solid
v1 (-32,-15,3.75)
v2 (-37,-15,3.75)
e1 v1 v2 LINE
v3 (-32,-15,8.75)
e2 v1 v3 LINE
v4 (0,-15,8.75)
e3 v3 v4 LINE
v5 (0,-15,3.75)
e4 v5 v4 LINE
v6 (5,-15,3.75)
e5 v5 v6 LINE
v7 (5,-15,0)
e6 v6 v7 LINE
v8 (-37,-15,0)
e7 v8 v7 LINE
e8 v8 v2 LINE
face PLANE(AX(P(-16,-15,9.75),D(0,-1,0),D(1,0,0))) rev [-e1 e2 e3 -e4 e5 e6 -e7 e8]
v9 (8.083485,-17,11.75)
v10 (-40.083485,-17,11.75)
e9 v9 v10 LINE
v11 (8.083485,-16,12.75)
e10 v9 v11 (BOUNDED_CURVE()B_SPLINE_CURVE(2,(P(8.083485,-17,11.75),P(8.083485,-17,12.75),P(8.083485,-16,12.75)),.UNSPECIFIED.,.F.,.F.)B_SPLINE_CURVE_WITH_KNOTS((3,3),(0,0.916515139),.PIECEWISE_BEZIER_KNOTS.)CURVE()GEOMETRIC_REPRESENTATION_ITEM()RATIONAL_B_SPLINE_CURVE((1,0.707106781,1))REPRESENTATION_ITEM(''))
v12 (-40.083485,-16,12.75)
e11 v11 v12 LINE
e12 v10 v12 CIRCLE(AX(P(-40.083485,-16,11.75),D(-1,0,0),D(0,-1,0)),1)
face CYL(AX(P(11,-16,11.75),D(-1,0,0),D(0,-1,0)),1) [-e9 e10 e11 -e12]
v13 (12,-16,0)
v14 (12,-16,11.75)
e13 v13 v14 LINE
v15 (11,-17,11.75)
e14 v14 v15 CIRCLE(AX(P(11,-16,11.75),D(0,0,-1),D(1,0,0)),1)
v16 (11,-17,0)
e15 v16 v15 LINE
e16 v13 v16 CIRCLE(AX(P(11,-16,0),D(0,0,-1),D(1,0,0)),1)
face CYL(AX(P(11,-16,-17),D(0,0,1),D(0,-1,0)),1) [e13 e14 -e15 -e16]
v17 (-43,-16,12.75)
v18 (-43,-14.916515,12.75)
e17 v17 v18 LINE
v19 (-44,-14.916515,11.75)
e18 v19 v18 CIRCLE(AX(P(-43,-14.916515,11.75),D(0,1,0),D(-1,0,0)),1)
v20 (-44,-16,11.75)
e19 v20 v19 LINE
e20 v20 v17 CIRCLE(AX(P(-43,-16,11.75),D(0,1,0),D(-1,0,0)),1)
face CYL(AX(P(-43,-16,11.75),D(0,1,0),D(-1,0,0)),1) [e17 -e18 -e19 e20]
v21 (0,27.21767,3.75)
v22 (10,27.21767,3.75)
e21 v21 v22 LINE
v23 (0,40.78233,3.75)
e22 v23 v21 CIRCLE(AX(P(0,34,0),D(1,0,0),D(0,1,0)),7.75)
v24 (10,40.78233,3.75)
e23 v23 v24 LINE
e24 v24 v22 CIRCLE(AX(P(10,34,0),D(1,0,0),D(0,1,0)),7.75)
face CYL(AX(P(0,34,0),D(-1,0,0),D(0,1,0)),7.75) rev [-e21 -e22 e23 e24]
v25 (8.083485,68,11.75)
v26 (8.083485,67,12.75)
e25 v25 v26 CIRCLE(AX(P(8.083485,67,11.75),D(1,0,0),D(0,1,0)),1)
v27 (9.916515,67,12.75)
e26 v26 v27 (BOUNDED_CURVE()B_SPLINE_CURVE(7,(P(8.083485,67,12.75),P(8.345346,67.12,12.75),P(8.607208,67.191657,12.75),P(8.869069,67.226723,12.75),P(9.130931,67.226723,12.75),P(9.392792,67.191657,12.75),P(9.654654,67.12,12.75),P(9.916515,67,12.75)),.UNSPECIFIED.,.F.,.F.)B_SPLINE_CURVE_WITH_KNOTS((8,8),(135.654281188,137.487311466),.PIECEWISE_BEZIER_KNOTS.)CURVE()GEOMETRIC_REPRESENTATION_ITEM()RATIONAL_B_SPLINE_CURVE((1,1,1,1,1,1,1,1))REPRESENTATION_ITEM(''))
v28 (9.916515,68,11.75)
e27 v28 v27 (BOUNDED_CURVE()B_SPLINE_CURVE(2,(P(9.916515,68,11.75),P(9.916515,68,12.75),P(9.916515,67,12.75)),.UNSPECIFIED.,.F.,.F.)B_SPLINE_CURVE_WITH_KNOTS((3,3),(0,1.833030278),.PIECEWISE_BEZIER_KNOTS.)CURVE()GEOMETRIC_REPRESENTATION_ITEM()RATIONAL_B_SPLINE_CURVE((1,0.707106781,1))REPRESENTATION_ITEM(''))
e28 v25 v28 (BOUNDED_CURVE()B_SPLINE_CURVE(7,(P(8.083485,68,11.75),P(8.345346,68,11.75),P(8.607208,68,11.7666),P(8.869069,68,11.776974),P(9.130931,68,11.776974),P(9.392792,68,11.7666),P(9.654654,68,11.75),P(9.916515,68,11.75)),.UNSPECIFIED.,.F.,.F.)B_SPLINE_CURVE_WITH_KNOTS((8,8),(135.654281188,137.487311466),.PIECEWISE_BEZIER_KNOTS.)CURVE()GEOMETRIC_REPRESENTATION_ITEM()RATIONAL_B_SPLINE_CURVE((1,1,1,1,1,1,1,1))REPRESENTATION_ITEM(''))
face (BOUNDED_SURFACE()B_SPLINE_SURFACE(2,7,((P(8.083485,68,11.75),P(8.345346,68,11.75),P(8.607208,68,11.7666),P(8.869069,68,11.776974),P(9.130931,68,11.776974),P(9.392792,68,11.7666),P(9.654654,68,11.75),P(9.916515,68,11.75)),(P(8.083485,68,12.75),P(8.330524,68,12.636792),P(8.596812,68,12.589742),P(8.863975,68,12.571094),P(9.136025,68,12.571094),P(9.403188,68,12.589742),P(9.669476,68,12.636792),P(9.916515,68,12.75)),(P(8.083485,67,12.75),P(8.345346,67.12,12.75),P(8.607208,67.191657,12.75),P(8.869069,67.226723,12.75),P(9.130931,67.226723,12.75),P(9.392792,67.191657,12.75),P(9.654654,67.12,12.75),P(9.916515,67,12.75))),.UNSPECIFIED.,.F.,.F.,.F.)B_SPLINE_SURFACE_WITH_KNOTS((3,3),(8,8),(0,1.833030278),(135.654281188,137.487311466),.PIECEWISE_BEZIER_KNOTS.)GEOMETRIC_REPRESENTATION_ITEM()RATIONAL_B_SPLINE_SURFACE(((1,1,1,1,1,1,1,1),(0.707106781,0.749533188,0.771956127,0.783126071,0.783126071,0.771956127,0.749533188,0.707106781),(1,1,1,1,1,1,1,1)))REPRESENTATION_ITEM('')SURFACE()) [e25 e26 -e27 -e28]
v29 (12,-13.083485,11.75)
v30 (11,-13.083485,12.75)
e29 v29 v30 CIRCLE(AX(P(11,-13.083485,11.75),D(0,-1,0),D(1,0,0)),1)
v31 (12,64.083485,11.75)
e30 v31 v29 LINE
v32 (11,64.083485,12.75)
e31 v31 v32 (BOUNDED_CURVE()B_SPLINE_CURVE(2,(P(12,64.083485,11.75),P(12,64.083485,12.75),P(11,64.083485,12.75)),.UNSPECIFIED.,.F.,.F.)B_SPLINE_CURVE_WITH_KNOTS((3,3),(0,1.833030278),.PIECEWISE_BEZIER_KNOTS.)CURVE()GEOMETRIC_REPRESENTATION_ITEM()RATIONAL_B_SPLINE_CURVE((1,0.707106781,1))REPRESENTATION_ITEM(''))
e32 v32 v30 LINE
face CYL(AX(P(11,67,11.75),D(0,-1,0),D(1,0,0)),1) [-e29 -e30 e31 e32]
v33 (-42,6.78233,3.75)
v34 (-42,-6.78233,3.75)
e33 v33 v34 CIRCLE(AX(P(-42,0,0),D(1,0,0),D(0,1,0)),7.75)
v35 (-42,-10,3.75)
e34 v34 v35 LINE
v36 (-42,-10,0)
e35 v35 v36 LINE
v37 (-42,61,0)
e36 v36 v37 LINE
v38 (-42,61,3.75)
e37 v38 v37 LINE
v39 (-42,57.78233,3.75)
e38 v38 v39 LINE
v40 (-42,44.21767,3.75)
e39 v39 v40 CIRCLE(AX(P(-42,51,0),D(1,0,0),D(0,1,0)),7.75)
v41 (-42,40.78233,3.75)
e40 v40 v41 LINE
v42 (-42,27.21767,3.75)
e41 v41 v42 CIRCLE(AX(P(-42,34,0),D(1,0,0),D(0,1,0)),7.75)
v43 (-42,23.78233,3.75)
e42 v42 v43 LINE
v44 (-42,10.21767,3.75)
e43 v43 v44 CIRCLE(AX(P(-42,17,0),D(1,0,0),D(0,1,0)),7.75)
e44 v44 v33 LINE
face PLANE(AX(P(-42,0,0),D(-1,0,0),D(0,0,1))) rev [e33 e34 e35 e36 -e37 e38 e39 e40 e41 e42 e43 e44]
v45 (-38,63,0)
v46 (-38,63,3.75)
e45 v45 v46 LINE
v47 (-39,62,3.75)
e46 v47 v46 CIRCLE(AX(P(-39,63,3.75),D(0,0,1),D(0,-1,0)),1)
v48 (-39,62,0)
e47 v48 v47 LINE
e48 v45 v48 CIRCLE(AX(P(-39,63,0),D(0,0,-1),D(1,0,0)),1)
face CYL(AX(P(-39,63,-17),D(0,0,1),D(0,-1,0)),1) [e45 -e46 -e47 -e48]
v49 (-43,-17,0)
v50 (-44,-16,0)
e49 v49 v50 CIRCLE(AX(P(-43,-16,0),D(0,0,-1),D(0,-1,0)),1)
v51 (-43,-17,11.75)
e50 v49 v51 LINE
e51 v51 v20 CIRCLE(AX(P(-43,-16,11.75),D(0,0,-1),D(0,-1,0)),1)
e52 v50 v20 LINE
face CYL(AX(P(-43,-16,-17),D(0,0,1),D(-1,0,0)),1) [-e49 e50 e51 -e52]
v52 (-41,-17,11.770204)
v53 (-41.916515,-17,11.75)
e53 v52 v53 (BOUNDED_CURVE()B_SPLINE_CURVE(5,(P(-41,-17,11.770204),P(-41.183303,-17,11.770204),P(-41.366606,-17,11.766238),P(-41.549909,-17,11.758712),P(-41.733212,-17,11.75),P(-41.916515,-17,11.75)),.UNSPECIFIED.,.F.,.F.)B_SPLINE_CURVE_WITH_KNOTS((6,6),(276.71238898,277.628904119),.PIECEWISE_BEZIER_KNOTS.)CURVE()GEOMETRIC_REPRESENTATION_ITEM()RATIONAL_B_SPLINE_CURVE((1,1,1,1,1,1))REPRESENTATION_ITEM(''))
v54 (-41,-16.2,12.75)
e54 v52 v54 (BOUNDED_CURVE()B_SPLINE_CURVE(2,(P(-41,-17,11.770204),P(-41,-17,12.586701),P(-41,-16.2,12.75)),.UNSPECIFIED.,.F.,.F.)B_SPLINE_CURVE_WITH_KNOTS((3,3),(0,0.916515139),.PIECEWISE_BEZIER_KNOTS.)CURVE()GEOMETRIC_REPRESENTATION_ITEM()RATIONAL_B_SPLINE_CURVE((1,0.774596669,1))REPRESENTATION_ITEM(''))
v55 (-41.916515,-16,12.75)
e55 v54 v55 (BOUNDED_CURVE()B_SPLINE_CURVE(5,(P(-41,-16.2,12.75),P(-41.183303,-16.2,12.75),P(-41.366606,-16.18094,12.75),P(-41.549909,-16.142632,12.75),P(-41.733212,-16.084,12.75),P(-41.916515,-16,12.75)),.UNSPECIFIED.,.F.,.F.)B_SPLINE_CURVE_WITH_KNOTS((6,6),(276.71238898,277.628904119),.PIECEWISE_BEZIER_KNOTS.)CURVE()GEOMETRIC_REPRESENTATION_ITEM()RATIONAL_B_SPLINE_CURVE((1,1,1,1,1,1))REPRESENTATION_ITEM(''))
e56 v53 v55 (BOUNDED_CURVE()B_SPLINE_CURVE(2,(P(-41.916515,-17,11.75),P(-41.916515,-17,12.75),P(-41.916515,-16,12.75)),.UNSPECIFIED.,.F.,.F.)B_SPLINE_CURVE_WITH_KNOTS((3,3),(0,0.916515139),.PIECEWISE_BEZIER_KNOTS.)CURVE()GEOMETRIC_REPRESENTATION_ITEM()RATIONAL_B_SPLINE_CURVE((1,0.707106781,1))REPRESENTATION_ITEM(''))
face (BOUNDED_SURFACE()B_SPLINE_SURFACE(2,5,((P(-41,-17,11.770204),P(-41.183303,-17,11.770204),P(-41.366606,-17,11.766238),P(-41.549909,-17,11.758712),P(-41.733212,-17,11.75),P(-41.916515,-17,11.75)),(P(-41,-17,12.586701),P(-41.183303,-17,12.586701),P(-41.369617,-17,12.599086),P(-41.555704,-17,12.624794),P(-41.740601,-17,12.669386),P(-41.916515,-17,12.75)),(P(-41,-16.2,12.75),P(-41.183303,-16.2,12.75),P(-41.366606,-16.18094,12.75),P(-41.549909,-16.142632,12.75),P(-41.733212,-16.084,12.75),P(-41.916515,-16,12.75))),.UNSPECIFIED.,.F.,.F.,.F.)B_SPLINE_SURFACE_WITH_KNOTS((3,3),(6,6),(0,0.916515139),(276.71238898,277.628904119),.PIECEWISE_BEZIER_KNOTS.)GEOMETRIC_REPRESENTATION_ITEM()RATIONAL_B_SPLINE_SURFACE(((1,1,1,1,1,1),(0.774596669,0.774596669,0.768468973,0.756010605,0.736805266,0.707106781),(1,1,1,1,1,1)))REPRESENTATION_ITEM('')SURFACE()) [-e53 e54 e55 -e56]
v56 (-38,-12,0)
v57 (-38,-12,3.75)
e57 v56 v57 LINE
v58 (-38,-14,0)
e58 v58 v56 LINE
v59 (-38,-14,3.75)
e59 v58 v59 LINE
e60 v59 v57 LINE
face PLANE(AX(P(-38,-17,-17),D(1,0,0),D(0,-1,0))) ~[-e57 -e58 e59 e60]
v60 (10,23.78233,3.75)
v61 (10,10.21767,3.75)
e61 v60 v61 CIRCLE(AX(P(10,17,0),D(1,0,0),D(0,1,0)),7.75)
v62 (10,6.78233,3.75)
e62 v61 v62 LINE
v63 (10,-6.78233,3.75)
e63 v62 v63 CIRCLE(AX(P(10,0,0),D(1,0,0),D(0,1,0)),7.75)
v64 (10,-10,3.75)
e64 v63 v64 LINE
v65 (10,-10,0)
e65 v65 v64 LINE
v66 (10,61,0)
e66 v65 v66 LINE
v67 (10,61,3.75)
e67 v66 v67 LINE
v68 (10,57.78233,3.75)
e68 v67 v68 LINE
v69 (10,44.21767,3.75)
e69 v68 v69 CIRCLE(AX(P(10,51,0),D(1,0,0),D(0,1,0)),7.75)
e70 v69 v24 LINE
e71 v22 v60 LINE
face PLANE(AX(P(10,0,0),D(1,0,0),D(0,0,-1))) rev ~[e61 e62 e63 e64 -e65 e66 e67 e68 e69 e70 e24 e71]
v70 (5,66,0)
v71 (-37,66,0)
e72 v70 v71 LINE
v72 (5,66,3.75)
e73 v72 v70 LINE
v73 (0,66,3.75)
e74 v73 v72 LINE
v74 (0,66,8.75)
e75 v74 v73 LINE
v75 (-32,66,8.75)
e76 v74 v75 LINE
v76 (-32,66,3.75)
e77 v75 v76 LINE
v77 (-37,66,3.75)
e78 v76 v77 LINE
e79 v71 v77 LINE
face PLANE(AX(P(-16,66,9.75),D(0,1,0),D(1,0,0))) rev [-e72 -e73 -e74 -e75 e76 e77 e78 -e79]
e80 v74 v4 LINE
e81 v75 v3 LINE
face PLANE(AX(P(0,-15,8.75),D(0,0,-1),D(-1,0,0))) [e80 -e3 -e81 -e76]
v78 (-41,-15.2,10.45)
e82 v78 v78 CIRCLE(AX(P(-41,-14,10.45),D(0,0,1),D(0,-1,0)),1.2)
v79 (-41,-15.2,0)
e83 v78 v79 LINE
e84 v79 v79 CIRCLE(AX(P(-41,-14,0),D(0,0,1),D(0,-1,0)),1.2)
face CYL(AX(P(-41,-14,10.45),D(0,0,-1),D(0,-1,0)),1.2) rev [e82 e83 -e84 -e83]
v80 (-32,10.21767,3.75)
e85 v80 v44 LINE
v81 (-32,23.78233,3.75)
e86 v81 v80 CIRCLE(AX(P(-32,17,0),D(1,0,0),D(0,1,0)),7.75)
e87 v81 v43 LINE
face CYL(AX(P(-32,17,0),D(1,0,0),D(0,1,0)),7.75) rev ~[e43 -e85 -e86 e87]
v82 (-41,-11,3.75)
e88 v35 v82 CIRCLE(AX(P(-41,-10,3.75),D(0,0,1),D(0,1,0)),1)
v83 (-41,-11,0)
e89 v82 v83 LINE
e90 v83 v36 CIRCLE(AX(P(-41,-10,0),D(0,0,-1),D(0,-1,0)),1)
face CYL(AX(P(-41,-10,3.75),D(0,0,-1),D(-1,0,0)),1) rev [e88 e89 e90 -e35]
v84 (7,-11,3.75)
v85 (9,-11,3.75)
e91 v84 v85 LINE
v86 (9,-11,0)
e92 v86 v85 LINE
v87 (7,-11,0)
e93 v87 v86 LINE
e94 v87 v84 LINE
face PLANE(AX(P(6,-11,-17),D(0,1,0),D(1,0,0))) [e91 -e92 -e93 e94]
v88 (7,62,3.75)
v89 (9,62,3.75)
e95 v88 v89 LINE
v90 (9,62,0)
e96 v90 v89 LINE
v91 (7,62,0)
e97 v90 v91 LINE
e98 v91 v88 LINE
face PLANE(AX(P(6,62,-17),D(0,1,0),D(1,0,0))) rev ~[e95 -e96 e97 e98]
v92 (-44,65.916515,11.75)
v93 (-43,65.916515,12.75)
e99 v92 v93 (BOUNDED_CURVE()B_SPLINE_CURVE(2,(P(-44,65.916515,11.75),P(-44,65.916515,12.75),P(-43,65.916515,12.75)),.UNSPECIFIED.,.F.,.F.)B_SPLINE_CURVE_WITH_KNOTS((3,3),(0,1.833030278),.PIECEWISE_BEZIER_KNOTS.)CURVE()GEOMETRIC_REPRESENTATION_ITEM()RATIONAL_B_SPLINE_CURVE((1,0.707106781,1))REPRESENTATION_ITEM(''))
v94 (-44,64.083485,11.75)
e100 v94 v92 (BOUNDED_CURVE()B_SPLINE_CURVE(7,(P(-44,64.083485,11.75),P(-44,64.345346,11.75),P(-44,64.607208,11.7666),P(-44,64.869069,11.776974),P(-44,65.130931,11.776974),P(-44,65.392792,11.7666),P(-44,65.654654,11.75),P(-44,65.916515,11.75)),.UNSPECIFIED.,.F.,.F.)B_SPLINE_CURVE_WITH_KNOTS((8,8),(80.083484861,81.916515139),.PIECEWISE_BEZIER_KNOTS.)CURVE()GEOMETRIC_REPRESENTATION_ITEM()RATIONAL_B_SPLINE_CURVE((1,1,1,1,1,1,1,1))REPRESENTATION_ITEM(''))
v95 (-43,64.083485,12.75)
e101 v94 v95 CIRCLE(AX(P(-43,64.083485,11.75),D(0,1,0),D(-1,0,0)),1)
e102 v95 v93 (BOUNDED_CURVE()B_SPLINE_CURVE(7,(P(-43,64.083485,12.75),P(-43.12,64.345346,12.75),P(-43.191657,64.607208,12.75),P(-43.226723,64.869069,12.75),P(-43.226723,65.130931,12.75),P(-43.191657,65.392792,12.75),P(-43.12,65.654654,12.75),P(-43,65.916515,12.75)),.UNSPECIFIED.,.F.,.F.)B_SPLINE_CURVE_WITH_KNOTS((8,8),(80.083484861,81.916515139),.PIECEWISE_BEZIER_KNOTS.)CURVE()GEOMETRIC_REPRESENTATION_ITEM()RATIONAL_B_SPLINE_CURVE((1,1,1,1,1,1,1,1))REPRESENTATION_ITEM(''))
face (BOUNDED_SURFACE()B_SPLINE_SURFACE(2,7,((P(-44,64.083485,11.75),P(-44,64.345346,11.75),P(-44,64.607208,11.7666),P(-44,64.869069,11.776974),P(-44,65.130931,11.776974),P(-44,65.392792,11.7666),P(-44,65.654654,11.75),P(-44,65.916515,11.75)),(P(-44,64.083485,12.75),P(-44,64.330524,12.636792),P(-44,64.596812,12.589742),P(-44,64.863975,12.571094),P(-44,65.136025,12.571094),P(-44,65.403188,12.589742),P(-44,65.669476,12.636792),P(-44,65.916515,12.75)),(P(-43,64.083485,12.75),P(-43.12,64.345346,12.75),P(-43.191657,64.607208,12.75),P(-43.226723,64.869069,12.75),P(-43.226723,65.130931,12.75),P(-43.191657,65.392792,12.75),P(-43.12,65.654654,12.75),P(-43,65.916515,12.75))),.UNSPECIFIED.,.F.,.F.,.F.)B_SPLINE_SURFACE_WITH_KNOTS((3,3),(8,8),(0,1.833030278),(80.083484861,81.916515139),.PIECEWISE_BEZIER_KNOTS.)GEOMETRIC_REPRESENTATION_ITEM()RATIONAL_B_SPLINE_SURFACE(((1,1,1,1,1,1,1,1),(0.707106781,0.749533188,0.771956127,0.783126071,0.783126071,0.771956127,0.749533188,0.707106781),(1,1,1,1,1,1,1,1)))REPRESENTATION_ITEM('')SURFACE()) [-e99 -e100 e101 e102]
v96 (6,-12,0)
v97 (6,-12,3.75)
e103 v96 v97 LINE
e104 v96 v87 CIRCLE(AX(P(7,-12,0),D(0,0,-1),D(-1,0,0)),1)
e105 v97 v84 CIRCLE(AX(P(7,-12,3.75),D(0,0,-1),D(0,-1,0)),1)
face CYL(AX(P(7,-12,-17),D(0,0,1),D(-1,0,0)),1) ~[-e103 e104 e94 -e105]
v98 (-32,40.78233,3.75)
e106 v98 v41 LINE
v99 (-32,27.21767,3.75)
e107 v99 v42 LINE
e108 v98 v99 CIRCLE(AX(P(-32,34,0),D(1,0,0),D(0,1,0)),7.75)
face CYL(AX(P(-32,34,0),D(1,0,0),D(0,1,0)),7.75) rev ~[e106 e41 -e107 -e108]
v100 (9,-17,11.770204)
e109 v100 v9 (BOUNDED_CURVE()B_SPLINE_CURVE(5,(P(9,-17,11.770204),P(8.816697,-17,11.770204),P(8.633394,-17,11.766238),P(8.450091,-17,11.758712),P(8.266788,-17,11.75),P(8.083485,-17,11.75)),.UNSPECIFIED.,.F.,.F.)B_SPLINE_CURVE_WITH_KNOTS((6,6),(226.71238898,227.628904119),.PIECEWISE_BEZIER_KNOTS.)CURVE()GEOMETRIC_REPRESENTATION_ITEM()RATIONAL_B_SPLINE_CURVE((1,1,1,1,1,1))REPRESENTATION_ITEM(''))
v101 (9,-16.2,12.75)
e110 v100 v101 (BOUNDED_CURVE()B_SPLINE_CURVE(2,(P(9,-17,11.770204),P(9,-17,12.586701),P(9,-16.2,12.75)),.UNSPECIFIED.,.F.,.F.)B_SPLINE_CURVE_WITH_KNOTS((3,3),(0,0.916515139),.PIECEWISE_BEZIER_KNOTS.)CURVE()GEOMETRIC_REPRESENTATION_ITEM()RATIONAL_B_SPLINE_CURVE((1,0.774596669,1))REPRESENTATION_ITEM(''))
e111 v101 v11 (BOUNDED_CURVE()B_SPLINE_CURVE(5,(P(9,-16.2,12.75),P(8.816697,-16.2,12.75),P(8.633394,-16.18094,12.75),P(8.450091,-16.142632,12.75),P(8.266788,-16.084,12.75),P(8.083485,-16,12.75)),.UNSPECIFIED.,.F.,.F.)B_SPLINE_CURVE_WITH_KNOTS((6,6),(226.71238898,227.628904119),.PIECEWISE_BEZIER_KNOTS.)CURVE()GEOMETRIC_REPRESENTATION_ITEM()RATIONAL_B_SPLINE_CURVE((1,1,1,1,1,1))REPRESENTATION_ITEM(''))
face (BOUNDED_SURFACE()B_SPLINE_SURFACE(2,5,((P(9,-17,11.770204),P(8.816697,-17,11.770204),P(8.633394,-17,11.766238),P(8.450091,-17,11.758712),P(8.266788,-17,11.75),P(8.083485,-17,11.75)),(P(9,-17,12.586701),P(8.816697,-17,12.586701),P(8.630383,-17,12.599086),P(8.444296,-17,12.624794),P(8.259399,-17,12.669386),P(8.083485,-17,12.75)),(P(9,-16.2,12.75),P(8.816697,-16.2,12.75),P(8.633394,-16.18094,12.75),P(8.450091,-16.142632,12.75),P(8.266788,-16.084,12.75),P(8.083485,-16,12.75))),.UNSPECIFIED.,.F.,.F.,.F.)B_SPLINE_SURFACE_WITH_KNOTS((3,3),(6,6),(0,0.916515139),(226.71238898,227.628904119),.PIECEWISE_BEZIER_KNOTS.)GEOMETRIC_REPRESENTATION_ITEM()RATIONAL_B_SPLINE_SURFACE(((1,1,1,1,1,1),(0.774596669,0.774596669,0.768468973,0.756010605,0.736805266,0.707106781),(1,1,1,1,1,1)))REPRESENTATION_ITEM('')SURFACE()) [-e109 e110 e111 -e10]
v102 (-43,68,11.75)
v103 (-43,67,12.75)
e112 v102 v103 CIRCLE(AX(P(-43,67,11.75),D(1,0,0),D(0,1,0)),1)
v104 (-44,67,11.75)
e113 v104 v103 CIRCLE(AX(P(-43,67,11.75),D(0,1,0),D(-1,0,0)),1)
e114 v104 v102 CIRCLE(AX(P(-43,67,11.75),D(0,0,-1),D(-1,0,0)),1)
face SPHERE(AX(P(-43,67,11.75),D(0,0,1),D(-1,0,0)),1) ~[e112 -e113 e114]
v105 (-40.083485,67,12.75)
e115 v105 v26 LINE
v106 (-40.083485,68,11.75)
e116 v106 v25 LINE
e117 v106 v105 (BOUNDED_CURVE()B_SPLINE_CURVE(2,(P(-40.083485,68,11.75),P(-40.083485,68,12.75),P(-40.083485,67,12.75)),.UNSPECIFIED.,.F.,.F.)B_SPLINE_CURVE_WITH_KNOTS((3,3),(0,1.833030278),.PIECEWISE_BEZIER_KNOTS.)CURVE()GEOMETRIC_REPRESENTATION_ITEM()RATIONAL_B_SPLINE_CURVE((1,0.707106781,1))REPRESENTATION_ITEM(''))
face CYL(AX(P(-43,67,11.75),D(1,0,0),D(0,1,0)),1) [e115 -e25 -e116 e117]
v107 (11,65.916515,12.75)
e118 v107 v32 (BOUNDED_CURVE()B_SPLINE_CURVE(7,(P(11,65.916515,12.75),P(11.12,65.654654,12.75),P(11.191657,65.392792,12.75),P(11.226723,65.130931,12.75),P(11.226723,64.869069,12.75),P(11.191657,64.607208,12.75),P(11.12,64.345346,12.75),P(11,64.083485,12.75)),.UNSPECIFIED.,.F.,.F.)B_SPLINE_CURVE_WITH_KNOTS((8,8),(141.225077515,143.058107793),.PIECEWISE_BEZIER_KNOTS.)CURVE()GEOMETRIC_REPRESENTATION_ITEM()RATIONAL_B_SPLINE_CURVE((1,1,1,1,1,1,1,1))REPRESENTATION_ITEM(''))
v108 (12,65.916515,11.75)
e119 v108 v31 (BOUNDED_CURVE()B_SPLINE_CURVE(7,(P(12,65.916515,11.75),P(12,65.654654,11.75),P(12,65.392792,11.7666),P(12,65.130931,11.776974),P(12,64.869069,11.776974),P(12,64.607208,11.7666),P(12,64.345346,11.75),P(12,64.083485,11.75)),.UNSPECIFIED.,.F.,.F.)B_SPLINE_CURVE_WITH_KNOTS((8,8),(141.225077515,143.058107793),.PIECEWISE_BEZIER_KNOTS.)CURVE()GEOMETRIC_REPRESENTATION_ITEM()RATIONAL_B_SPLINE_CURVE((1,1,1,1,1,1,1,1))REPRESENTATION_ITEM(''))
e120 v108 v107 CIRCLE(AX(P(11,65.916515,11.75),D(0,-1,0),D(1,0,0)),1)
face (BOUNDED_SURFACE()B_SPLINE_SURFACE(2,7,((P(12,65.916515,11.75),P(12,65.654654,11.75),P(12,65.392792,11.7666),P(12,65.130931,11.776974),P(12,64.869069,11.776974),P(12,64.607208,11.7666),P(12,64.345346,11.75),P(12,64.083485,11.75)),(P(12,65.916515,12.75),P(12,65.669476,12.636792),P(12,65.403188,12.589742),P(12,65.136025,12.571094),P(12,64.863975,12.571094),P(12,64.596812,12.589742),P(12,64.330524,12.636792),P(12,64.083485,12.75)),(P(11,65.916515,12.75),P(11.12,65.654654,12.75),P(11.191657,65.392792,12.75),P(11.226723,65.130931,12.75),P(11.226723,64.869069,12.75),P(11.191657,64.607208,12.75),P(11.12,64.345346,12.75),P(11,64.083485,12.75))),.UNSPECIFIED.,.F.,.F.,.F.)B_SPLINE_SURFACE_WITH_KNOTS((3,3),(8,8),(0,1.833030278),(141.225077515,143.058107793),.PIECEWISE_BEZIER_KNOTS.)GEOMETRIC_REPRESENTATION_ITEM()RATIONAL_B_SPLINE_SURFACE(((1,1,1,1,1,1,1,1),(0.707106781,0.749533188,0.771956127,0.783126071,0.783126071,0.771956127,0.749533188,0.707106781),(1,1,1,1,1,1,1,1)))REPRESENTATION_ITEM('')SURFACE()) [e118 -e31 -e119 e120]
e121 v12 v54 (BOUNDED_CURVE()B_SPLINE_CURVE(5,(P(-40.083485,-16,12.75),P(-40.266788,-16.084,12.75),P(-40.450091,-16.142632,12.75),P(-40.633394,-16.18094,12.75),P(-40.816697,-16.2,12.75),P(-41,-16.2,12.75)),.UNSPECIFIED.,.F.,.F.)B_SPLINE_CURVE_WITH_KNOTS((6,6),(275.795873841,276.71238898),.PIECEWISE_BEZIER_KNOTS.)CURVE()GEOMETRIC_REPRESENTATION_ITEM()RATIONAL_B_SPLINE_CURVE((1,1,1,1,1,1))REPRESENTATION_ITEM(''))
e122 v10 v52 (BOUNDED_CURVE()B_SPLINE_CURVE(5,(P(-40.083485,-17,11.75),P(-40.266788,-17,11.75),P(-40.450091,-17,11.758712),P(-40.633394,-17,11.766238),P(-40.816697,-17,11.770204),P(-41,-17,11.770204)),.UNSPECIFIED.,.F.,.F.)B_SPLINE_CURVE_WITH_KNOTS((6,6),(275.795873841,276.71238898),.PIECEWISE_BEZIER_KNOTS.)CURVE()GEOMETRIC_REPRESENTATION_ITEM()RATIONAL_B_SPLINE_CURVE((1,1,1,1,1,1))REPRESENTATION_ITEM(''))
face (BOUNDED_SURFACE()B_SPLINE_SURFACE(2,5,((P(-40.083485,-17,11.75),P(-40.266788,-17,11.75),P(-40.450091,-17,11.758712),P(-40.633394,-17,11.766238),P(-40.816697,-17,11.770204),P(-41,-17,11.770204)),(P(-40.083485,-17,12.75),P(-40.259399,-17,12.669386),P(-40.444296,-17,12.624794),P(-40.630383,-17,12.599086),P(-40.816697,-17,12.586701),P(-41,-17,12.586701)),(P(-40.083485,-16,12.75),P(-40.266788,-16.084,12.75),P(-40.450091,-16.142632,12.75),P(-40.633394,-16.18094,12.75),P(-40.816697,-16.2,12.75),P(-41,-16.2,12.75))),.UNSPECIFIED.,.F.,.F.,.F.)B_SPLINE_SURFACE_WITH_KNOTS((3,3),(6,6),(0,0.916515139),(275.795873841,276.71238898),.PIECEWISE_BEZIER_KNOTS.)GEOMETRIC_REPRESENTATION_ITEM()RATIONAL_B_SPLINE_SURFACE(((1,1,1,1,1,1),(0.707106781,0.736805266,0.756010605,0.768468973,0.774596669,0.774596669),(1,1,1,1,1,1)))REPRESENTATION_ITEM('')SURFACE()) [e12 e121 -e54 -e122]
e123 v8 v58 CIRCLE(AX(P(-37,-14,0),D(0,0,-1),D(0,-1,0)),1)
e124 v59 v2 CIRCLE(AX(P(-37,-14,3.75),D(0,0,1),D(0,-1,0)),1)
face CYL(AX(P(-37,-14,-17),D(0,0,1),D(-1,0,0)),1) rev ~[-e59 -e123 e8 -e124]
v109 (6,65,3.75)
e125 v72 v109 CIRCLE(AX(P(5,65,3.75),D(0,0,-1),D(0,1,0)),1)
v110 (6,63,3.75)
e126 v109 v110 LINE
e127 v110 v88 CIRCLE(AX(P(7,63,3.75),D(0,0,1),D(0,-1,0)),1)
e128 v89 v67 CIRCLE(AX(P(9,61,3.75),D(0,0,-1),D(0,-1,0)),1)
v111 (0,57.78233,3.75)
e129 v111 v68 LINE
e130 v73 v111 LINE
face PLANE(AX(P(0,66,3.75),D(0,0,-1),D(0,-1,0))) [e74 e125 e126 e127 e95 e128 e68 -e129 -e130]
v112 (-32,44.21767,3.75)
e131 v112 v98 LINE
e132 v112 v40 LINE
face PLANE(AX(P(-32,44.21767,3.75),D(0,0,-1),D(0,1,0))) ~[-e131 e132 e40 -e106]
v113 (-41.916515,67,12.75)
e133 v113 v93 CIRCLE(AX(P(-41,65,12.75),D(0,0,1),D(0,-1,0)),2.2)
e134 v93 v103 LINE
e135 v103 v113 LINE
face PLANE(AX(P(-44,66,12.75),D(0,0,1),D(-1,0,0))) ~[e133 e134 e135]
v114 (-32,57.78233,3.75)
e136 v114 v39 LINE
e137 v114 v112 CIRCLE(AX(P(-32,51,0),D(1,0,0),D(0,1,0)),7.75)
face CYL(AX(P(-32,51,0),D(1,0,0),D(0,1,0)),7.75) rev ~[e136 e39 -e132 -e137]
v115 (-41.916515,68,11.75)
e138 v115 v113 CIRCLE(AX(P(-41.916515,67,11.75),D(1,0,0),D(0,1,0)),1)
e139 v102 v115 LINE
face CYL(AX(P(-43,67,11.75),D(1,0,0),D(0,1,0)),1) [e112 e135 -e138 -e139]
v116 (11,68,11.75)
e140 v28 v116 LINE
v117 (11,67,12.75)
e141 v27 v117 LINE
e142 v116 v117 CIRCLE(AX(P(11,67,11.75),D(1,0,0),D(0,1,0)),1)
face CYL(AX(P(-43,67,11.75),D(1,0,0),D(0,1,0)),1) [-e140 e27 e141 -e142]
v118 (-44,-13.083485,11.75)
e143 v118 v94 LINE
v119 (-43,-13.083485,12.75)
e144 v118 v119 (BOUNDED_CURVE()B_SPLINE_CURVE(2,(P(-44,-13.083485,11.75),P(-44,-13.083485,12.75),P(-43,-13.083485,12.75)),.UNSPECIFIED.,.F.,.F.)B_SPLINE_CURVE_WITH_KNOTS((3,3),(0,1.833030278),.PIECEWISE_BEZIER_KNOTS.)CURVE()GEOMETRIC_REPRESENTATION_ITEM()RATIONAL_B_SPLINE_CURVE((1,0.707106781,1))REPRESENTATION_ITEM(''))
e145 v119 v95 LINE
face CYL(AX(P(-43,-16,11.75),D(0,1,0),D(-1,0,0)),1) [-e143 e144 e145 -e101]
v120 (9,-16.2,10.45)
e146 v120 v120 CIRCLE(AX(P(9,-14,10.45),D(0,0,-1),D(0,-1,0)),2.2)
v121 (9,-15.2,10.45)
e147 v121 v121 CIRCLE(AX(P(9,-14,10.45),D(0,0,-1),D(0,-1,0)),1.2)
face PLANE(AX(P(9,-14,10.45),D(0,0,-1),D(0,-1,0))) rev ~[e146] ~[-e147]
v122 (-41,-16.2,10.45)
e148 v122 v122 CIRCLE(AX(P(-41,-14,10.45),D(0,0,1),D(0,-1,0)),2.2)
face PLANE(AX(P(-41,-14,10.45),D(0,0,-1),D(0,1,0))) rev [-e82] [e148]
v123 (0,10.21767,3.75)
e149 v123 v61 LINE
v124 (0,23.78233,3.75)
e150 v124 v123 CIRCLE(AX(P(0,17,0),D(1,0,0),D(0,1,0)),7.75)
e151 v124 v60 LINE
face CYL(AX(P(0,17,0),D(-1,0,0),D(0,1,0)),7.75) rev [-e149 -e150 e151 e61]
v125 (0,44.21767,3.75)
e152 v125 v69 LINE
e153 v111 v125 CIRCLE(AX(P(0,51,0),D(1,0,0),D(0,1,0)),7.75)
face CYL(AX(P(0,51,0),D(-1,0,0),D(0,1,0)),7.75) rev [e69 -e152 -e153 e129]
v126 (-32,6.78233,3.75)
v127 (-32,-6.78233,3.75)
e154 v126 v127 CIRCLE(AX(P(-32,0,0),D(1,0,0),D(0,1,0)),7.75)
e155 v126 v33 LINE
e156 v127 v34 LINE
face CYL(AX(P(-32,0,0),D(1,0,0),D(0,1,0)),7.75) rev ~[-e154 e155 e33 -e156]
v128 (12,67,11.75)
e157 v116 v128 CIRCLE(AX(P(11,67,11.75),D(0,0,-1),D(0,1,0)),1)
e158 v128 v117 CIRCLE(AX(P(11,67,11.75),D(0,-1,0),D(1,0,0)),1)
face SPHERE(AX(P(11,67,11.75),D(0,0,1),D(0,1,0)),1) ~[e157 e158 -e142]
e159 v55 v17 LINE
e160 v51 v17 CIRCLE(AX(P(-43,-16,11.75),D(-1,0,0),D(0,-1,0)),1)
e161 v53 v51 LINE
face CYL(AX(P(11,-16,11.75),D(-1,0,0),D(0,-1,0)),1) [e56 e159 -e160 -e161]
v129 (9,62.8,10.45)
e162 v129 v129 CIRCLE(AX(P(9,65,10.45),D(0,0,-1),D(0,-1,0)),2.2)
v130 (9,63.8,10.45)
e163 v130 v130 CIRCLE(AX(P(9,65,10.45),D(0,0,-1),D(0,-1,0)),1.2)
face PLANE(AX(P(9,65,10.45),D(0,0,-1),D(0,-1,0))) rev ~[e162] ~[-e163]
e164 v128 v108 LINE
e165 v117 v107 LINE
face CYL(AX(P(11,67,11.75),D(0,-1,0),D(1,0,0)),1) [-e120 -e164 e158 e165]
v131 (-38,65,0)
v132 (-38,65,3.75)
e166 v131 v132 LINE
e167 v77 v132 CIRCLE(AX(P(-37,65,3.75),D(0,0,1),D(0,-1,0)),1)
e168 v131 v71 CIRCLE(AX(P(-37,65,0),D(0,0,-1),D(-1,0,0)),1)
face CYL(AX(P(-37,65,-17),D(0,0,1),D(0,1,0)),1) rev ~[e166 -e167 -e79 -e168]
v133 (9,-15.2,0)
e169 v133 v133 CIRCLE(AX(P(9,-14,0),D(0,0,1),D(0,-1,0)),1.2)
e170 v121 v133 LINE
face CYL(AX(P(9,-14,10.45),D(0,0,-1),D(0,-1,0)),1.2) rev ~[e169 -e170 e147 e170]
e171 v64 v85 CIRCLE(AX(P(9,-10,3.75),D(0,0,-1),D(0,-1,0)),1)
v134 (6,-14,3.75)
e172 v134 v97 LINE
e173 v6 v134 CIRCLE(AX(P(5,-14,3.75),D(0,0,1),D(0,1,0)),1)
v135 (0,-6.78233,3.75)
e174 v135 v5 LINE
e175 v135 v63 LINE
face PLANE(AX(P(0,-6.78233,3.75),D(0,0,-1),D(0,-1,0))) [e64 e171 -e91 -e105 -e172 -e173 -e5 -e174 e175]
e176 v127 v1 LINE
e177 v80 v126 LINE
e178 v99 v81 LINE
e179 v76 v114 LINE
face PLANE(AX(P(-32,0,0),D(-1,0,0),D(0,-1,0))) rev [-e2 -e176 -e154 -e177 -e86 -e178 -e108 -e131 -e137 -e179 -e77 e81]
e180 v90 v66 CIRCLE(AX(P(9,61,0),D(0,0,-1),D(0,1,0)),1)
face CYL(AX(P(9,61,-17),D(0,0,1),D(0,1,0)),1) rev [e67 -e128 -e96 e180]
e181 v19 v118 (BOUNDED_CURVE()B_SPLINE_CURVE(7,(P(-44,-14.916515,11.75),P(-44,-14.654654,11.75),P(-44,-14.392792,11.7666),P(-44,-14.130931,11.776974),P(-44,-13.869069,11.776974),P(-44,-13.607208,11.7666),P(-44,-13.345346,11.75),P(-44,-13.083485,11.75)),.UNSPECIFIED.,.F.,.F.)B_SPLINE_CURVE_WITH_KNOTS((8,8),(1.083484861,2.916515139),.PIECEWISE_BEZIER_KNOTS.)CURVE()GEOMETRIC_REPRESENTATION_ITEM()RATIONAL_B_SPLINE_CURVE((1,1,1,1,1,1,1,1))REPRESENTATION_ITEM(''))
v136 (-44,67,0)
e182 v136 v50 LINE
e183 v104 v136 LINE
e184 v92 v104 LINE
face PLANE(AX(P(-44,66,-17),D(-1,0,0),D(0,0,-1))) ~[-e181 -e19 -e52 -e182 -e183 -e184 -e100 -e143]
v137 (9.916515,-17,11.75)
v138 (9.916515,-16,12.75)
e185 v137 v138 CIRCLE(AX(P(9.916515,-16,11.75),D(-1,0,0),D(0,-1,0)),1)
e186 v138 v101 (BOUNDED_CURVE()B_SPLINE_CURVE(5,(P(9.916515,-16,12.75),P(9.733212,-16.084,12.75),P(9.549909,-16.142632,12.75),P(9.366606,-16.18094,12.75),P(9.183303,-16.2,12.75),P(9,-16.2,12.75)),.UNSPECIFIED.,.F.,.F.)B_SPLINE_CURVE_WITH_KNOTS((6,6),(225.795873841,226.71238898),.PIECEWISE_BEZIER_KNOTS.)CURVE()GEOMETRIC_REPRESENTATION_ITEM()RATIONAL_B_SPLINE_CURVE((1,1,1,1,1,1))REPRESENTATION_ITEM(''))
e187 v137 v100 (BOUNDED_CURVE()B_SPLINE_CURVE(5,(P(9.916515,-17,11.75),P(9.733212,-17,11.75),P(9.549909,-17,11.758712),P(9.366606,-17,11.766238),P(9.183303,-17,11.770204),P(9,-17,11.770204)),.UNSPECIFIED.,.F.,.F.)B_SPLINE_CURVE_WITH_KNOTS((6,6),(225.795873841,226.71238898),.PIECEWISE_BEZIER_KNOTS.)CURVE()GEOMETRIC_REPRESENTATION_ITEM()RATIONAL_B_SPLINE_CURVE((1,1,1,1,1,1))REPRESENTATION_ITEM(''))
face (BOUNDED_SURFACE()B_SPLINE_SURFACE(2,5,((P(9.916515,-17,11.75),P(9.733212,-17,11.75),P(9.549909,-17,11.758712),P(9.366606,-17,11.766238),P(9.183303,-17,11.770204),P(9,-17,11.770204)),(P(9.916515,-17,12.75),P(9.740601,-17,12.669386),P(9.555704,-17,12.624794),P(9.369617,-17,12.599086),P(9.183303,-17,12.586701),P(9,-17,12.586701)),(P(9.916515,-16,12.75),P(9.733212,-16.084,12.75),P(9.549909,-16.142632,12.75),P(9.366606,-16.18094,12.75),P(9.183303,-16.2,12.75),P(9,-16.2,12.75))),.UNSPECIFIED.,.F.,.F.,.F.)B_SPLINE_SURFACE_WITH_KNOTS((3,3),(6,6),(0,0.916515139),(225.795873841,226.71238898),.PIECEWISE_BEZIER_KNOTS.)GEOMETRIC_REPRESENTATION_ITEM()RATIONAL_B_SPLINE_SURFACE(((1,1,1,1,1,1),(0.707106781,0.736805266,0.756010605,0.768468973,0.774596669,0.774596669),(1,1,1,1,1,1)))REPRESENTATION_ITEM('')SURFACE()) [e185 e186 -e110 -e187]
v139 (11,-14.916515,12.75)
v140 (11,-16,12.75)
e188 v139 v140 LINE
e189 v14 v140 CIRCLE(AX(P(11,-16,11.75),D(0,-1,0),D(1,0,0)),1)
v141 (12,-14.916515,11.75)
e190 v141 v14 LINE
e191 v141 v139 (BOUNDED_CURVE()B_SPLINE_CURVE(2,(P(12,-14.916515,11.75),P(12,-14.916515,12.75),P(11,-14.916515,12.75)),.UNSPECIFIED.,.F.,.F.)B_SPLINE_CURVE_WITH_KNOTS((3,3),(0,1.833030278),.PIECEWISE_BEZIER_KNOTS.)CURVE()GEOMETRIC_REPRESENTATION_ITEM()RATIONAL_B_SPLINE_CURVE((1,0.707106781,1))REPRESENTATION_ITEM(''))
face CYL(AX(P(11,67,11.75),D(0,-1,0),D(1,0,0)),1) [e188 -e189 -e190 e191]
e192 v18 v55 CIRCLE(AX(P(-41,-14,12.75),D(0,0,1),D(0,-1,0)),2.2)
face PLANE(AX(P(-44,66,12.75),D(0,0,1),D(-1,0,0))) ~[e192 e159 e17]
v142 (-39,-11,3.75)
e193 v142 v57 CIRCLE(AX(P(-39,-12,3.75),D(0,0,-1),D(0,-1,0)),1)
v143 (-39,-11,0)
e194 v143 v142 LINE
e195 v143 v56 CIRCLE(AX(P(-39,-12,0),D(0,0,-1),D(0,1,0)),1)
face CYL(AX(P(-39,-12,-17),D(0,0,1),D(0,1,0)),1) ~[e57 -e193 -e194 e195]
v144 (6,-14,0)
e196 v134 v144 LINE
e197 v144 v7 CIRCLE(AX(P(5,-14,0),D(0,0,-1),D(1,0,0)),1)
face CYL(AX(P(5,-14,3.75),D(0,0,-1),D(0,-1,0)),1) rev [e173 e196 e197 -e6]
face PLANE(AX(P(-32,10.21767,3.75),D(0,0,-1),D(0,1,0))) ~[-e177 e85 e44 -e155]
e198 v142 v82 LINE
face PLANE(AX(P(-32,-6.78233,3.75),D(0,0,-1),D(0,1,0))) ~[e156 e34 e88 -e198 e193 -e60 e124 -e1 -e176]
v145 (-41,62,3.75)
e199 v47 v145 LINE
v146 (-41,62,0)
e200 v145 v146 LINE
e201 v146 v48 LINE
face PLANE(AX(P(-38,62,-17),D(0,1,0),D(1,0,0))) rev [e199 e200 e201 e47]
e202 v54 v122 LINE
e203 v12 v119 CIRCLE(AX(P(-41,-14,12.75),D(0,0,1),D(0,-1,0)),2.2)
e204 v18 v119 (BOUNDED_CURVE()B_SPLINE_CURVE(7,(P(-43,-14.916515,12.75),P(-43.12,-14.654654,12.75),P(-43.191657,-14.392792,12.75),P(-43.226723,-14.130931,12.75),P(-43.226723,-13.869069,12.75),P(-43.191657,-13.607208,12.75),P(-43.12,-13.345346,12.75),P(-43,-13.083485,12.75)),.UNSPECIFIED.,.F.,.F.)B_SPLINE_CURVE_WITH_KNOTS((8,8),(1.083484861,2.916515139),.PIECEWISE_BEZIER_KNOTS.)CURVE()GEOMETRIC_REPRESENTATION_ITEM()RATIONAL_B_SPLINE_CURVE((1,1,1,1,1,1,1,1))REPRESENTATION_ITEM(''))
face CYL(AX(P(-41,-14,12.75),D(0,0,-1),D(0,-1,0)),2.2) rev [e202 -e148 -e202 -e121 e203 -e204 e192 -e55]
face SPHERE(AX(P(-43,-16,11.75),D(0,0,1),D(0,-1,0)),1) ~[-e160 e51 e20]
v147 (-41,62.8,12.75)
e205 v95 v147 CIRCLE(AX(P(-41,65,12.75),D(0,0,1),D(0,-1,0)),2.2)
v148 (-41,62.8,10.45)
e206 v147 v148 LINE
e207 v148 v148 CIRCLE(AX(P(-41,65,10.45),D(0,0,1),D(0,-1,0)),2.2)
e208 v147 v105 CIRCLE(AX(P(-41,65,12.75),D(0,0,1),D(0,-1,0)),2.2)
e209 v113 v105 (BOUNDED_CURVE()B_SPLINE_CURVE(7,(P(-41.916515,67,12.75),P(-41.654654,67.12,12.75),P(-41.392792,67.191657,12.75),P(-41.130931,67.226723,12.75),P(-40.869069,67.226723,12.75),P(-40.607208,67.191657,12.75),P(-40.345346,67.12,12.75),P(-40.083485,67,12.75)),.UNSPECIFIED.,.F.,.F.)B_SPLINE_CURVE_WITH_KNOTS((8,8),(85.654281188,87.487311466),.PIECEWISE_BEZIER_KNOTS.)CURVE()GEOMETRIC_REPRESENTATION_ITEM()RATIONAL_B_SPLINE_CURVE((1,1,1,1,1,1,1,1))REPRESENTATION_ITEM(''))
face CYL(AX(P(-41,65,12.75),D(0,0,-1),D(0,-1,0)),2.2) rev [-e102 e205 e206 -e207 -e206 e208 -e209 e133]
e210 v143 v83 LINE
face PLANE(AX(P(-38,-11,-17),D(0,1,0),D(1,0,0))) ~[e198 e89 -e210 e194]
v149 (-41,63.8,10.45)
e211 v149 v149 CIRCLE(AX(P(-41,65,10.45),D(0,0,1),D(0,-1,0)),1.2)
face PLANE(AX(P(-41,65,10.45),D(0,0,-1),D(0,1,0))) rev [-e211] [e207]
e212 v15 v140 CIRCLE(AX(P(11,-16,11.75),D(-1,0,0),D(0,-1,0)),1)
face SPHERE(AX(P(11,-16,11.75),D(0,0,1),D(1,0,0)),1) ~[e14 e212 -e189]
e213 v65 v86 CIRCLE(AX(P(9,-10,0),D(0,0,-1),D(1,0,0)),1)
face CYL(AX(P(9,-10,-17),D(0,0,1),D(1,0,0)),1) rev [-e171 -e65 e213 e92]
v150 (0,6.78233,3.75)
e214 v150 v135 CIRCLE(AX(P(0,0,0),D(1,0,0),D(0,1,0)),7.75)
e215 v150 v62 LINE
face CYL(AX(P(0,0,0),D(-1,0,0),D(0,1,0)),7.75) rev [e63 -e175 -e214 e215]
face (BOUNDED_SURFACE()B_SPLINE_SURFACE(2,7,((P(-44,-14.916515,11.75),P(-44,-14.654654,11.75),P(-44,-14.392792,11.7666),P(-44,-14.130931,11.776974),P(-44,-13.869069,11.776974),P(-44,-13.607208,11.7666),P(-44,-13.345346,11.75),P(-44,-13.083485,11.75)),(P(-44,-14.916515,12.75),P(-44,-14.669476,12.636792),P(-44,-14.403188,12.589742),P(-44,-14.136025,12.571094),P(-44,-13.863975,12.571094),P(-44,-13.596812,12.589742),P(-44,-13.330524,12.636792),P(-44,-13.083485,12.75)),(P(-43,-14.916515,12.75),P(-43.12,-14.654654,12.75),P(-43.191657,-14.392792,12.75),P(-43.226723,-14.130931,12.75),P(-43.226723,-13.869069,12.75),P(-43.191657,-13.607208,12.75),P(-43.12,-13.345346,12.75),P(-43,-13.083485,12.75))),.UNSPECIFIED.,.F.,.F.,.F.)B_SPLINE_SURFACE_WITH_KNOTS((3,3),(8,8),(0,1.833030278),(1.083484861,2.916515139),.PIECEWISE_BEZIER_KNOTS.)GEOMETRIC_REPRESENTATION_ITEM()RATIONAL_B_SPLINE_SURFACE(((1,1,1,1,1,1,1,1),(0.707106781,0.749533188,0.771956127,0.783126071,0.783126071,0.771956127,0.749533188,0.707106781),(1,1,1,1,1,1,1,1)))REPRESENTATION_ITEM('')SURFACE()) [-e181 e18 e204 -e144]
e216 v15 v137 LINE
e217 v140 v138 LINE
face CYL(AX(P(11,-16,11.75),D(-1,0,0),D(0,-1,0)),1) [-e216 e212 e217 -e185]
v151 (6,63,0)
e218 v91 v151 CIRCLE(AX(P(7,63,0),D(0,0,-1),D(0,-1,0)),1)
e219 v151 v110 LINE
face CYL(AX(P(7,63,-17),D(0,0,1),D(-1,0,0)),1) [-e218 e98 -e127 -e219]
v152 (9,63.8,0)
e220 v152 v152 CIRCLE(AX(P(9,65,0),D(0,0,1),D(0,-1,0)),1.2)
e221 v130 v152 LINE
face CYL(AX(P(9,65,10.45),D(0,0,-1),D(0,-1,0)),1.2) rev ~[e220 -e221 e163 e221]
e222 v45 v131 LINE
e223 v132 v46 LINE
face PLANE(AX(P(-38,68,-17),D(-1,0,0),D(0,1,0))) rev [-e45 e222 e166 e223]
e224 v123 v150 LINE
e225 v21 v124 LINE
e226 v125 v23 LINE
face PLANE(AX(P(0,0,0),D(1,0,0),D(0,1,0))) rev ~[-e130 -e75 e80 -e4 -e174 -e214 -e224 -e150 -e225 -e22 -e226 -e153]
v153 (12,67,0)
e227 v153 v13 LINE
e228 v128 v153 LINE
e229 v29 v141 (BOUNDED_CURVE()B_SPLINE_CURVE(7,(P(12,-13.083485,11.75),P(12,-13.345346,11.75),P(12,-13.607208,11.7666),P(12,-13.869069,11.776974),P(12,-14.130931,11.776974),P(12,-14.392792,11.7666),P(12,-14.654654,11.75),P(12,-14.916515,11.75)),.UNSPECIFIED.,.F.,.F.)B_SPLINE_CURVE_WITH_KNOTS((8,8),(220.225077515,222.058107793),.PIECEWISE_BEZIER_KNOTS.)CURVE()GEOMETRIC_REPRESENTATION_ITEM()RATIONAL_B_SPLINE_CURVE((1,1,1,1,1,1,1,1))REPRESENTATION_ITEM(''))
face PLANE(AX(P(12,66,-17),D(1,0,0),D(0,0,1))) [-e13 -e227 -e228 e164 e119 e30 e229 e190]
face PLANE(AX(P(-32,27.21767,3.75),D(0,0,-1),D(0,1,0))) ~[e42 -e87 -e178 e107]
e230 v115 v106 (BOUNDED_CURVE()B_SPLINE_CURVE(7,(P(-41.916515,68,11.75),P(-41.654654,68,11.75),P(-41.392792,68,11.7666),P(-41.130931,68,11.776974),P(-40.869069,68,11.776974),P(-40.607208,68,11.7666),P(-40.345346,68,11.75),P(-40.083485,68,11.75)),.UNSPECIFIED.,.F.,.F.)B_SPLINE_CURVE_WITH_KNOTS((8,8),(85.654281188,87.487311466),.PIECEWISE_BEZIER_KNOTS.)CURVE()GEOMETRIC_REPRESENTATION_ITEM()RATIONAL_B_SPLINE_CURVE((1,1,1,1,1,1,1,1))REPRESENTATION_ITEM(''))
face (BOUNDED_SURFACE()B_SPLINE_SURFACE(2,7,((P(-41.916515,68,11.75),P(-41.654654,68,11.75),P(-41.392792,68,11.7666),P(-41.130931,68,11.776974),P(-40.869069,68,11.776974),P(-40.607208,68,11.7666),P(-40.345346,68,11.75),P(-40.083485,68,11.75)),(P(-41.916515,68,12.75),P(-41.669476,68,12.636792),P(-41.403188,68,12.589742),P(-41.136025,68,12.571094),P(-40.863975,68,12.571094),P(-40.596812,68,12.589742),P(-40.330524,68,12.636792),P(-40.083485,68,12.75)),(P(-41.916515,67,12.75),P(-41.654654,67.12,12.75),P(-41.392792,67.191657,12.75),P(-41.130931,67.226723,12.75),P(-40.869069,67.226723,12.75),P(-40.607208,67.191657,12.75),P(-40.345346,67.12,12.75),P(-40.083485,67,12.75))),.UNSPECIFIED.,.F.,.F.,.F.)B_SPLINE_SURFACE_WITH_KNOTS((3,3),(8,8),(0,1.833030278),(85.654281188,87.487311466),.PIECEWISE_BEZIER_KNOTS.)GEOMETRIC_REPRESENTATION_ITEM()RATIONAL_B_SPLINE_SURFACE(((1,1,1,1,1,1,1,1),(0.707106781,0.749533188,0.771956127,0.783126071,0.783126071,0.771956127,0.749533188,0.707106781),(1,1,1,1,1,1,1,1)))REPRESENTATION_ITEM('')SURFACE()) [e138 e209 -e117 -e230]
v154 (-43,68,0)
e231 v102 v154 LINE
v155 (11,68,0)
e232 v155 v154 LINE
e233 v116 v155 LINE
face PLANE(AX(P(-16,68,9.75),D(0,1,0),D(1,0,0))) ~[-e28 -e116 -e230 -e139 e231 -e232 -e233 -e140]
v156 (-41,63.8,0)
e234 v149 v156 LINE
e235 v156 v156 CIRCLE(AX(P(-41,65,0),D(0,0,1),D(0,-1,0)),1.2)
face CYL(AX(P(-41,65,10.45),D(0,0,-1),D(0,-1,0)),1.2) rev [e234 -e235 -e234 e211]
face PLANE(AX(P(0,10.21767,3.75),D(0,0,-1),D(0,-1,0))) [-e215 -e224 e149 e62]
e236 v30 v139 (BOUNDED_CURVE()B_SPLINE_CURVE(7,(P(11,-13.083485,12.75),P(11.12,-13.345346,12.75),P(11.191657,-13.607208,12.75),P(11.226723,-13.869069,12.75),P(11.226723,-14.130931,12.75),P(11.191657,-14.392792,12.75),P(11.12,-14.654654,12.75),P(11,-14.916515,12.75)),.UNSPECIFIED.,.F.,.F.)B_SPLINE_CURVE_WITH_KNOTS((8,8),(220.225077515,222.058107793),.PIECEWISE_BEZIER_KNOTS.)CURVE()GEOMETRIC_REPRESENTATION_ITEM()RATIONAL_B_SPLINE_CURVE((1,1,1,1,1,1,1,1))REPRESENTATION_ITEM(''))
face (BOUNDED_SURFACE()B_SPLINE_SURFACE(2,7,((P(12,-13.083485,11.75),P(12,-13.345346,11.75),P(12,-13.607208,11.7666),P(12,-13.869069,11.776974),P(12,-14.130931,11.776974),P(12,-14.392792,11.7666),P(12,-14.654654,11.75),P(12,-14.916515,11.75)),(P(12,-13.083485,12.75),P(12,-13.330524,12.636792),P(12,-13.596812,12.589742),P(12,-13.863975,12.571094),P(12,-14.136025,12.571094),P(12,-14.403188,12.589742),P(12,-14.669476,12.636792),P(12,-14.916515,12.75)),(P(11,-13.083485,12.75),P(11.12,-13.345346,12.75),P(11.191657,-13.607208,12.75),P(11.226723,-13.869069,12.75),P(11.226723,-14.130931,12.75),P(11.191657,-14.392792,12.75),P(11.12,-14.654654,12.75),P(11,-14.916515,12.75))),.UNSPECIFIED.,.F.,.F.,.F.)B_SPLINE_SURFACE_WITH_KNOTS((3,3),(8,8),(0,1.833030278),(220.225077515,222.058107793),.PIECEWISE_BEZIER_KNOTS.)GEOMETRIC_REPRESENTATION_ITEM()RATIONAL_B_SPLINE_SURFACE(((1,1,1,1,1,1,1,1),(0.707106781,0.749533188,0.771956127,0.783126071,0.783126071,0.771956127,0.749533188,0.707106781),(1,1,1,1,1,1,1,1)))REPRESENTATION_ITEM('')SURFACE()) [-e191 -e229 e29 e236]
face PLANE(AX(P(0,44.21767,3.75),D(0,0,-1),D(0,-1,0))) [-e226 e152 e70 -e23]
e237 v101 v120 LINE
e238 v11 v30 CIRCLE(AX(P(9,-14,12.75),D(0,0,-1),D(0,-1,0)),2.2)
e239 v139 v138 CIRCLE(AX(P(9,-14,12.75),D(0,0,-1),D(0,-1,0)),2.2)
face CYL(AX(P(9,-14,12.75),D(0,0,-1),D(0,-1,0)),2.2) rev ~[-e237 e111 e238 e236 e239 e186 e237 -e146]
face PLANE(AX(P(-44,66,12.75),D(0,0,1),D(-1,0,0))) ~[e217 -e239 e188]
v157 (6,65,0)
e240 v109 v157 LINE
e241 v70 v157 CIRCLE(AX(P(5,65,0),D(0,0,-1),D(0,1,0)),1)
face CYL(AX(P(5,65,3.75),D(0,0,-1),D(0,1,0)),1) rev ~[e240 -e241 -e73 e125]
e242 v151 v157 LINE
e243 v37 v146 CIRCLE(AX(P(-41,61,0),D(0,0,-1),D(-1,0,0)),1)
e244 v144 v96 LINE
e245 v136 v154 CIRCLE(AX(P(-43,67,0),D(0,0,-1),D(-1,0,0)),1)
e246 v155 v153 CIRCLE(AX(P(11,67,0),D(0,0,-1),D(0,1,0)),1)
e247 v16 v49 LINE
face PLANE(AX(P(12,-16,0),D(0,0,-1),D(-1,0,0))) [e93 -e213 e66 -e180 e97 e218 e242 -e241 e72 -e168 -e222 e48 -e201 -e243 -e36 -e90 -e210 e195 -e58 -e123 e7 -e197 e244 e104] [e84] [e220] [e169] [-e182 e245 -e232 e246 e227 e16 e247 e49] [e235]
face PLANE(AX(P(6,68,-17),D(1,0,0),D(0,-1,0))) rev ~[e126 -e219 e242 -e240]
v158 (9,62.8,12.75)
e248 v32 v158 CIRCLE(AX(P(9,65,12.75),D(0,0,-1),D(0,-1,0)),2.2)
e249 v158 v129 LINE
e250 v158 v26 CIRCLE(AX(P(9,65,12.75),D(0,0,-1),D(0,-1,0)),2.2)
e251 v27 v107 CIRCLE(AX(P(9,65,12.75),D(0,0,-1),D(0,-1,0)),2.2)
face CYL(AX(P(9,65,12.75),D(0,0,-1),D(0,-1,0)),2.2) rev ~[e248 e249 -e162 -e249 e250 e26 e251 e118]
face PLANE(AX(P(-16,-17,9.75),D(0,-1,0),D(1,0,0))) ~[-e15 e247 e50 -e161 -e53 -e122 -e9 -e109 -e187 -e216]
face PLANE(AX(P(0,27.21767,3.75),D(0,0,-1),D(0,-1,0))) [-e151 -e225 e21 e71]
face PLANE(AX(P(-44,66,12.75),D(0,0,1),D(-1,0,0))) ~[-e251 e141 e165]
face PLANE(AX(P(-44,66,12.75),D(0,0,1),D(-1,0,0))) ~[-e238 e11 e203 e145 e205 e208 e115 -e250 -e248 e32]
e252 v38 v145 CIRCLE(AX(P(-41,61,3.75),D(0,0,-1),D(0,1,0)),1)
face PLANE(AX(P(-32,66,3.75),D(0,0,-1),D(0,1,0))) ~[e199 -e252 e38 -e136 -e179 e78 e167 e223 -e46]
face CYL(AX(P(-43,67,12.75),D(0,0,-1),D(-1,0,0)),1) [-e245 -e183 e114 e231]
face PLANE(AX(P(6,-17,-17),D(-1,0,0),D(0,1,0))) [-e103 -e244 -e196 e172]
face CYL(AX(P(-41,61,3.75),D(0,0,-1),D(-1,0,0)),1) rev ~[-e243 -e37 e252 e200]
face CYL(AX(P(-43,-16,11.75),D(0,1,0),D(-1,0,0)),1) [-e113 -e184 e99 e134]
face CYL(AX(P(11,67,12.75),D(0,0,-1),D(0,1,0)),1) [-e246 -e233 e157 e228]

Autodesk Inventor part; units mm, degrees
ref_plane "YZ Plane" through (0, 0, 0) normal (1, 0, 0) x (0, 1, 0)
ref_plane "XZ Plane" through (0, 0, 0) normal (0, 1, 0) x (-1, 0, 0)
ref_plane "XY Plane" through (0, 0, 0) normal (0, 0, 1) x (1, 0, 0)
sketch "Skizze1" plane through (0, 0, 0) normal (1, 0, 0) x (0, 1, 0)
  circle A0 centre (0, 0) radius 7.75
  line L0 (0, 0) -> (7.75, 0) construction
  circle A1 centre (17, 0) radius 7.75
  circle A2 centre (34, 0) radius 7.75
  circle A3 centre (51, 0) radius 7.75
  line L1 (66, 3.75) -> (-15, 3.75)
  line L2 (-15, 3.75) -> (-15, 9.75)
  line L3 (-15, 9.75) -> (66, 9.75)
  line L4 (66, 9.75) -> (66, 3.75)
  point P0 (24.75, 0)
  point P1 (41.75, 0)
  point P2 (58.75, 0)
  point P3 (66, 6.75)
  point P4 (-6.7823, 3.75)
  point P5 (6.7823, 3.75)
  point P6 (10.2177, 3.75)
  point P7 (23.7823, 3.75)
  point P8 (27.2177, 3.75)
  point P9 (40.7823, 3.75)
  point P10 (44.2177, 3.75)
  point P11 (57.7823, 3.75)
  dimension "d0" = 15.5
  dimension "d3" = 17
  dimension "a" = 9.75
  dimension "b" = 15
  dimension "d10" = 15
  dimension "d11" = 6
extrude "Extrusion1" add sketch "Skizze1" along normal blind 10 contours A0 L1 L2 L3 L4 A3 A2 A1
sketch "Skizze2" plane through (0, -15, 9.75) normal (0, 0, 1) x (1, 0, 0)
  line L0 (0, 81) -> (10, 81) projected
  line L1 (10, 81) -> (-16, 81)
  line L2 (-16, 81) -> (-16, 0)
  line L3 (-16, 0) -> (10, 0)
  line L4 (10, 0) -> (10, 81)
  line L5 (0, 0) -> (10, 0) projected
  point P0 (0, 15)
  dimension "d14" = 26
extrude "Extrusion2" add sketch "Skizze2" along normal blind 3
sketch "Skizze3" plane through (10, 0, 0) normal (1, 0, 0) x (0, 0, -1)
  line L0 (-12.75, 66) -> (-12.75, -15) projected
  line L1 (-12.75, 66) -> (17, 66)
  line L2 (17, 66) -> (17, -15)
  line L3 (17, -15) -> (-12.75, -15)
  line L4 (-12.75, -15) -> (-12.75, 66)
  line L5 (-3.75, -15) -> (-12.75, -15) construction
  circle A0 centre (17, 51) radius 2.5 construction
  point P0 (0, 0)
  point P1 (-12.75, -15)
extrude "Extrusion3" add sketch "Skizze3" along normal blind 2
sketch "Skizze4" plane through (-16, -15, 9.75) normal (0, -1, 0) x (1, 0, 0)
  line L0 (0, 3) -> (28, 3) projected
  line L1 (28, -26.75) -> (28, 3) projected
  line L2 (0, 3) -> (28, 3)
  line L3 (28, 3) -> (28, -26.75)
  line L4 (28, -26.75) -> (0, -26.75)
  line L5 (0, -26.75) -> (0, 3)
  point P0 (16, -9.75)
extrude "Extrusion4" add sketch "Skizze4" along normal blind 2
sketch "Skizze5" plane through (-16, 66, 9.75) normal (0, 1, 0) x (1, 0, 0)
  line L0 (0, 0) -> (0, 26.75) projected
  line L1 (28, -3) -> (0, -3)
  line L2 (0, -3) -> (0, 26.75)
  line L3 (0, 26.75) -> (28, 26.75)
  line L4 (28, 26.75) -> (28, -3)
  point P0 (16, 9.75)
extrude "Extrusion5" add sketch "Skizze5" along normal blind 2
sketch "Skizze6" plane through (10, -15, -17) normal (0, 0, -1) x (-1, 0, 0)
  line L0 (-2, -2) -> (26, -2) projected
  line L1 (-2, -2) -> (4, -2)
  line L2 (4, -2) -> (4, 4)
  line L3 (4, 4) -> (-2, 4)
  line L4 (-2, 4) -> (-2, -2)
  line L5 (-2, 83) -> (26, 83) projected
  line L6 (-2, 83) -> (4, 83)
  line L7 (4, 83) -> (4, 77)
  line L8 (4, 77) -> (-2, 77)
  line L9 (-2, 77) -> (-2, 83)
  point P0 (10, 15)
  point P1 (4, 83)
  dimension "d23" = 6
extrude "Extrusion6" add sketch "Skizze6" against normal up to surface (20.75 mm away)
fillet "Rundung1" radius 1 8 edges at (10, -11, -6.625) (6, -11, -6.625) (6, -15, -6.625) (12, -17, -2.125) (12, 68, -2.125) (10, 62, -6.625) (6, 62, -6.625) (6, 66, -6.625)
sketch "Skizze8" plane through (5, 66, 12.75) normal (0, 0, -1) x (-1, 0, 0)
  arc A0 (-6, 2) -> (-7, 1) centre (-6, 1) ccw construction
  arc A1 (-2, -4) -> (-1, -3) centre (-2, -3) ccw construction
  line L0 (-6, 1) -> (-2, -3) construction
  arc A2 (-7, -82) -> (-6, -83) centre (-6, -82) ccw construction
  line L1 (-6, -82) -> (-2, -78) construction
  point P0 (5, -66)
  point P1 (-4, -80)
  point P2 (-4, -1)
hole "Bohrung2" at (9, 65, 12.75) at (9, -14, 12.75) direction (0, 0, -1) diameter 2.4 end through all counterbore diameter 4.4 counterbore depth 2.3 clearance for "Inbusschraube ISO 4762" size "M2" standard "ISO"
mirror "Spiegeln1" about plane through (-16, 66, 9.75) normal (-1, 0, 0) of "Extrusion1", "Extrusion2", "Extrusion3", "Extrusion4", "Extrusion5", "Extrusion6", "Rundung1", "Bohrung2"
sketch "Skizze7" plane through (0, -15, 9.75) normal (0, 0, -1) x (-1, 0, 0)
  line L0 (0, 81) -> (0, 0) projected
  line L1 (32, 0) -> (0, 0) projected
  line L2 (32, 81) -> (32, 0) projected
  line L3 (0, 81) -> (32, 81) projected
  point P0 (0, 15)
extrude "Extrusion7" add sketch "Skizze7" along normal blind 1
sketch "Skizze9" plane through (12, -16, -17) normal (0, 0, -1) x (-1, 0, 0)
  circle A0 centre (3, 81) radius 2.2 projected
  circle A1 centre (53, 2) radius 1.2 projected
  circle A2 centre (53, 81) radius 1.2 projected
  line L0 (49, 1) -> (7, 1) projected
  arc A3 (6, 2) -> (7, 1) centre (7, 2) ccw projected
  line L1 (6, 2) -> (6, 4) projected
  arc A4 (6, 4) -> (5, 5) centre (5, 4) ccw projected
  line L2 (5, 5) -> (3, 5) projected
  arc A5 (2, 6) -> (3, 5) centre (3, 6) ccw projected
  line L3 (2, 6) -> (2, 77) projected
  arc A6 (3, 78) -> (2, 77) centre (3, 77) ccw projected
  line L4 (3, 78) -> (5, 78) projected
  arc A7 (5, 78) -> (6, 79) centre (5, 79) ccw projected
  line L5 (6, 79) -> (6, 81) projected
  arc A8 (7, 82) -> (6, 81) centre (7, 81) ccw projected
  line L6 (7, 82) -> (49, 82) projected
  arc A9 (50, 81) -> (49, 82) centre (49, 81) ccw projected
  line L7 (50, 79) -> (50, 81) projected
  arc A10 (50, 79) -> (51, 78) centre (51, 79) ccw projected
  line L8 (53, 78) -> (51, 78) projected
  arc A11 (54, 77) -> (53, 78) centre (53, 77) ccw projected
  line L9 (54, 6) -> (54, 77) projected
  arc A12 (53, 5) -> (54, 6) centre (53, 6) ccw projected
  line L10 (51, 5) -> (53, 5) projected
  arc A13 (51, 5) -> (50, 4) centre (51, 4) ccw projected
  line L11 (50, 2) -> (50, 4) projected
  arc A14 (49, 1) -> (50, 2) centre (49, 2) ccw projected
  circle A15 centre (3, 2) radius 1.2 projected
  circle A16 centre (3, 81) radius 1.2 projected
  line L12 (1, -1) -> (55, -1) projected
  arc A17 (55, -1) -> (56, 0) centre (55, 0) ccw projected
  line L13 (56, 83) -> (56, 0) projected
  arc A18 (56, 83) -> (55, 84) centre (55, 83) ccw projected
  line L14 (1, 84) -> (55, 84) projected
  arc A19 (1, 84) -> (0, 83) centre (1, 83) ccw projected
  line L15 (0, 83) -> (0, 0) projected
  arc A20 (0, 0) -> (1, -1) centre (1, 0) ccw projected
  point P0 (12, 16)
extrude "Extrusion8" cut sketch "Skizze9" against normal blind 17 contours A0 | A20 L15 A19 L14 A18 L13 A17 L12
fillet "Rundung2" radius 1 4 edges at (-44, 25.5, 12.75) (-16, -17, 12.75) (12, 25.5, 12.75) (-16, 68, 12.75)
equation "\"d10\" = b"
properties part number "BatteryCase_Top"
